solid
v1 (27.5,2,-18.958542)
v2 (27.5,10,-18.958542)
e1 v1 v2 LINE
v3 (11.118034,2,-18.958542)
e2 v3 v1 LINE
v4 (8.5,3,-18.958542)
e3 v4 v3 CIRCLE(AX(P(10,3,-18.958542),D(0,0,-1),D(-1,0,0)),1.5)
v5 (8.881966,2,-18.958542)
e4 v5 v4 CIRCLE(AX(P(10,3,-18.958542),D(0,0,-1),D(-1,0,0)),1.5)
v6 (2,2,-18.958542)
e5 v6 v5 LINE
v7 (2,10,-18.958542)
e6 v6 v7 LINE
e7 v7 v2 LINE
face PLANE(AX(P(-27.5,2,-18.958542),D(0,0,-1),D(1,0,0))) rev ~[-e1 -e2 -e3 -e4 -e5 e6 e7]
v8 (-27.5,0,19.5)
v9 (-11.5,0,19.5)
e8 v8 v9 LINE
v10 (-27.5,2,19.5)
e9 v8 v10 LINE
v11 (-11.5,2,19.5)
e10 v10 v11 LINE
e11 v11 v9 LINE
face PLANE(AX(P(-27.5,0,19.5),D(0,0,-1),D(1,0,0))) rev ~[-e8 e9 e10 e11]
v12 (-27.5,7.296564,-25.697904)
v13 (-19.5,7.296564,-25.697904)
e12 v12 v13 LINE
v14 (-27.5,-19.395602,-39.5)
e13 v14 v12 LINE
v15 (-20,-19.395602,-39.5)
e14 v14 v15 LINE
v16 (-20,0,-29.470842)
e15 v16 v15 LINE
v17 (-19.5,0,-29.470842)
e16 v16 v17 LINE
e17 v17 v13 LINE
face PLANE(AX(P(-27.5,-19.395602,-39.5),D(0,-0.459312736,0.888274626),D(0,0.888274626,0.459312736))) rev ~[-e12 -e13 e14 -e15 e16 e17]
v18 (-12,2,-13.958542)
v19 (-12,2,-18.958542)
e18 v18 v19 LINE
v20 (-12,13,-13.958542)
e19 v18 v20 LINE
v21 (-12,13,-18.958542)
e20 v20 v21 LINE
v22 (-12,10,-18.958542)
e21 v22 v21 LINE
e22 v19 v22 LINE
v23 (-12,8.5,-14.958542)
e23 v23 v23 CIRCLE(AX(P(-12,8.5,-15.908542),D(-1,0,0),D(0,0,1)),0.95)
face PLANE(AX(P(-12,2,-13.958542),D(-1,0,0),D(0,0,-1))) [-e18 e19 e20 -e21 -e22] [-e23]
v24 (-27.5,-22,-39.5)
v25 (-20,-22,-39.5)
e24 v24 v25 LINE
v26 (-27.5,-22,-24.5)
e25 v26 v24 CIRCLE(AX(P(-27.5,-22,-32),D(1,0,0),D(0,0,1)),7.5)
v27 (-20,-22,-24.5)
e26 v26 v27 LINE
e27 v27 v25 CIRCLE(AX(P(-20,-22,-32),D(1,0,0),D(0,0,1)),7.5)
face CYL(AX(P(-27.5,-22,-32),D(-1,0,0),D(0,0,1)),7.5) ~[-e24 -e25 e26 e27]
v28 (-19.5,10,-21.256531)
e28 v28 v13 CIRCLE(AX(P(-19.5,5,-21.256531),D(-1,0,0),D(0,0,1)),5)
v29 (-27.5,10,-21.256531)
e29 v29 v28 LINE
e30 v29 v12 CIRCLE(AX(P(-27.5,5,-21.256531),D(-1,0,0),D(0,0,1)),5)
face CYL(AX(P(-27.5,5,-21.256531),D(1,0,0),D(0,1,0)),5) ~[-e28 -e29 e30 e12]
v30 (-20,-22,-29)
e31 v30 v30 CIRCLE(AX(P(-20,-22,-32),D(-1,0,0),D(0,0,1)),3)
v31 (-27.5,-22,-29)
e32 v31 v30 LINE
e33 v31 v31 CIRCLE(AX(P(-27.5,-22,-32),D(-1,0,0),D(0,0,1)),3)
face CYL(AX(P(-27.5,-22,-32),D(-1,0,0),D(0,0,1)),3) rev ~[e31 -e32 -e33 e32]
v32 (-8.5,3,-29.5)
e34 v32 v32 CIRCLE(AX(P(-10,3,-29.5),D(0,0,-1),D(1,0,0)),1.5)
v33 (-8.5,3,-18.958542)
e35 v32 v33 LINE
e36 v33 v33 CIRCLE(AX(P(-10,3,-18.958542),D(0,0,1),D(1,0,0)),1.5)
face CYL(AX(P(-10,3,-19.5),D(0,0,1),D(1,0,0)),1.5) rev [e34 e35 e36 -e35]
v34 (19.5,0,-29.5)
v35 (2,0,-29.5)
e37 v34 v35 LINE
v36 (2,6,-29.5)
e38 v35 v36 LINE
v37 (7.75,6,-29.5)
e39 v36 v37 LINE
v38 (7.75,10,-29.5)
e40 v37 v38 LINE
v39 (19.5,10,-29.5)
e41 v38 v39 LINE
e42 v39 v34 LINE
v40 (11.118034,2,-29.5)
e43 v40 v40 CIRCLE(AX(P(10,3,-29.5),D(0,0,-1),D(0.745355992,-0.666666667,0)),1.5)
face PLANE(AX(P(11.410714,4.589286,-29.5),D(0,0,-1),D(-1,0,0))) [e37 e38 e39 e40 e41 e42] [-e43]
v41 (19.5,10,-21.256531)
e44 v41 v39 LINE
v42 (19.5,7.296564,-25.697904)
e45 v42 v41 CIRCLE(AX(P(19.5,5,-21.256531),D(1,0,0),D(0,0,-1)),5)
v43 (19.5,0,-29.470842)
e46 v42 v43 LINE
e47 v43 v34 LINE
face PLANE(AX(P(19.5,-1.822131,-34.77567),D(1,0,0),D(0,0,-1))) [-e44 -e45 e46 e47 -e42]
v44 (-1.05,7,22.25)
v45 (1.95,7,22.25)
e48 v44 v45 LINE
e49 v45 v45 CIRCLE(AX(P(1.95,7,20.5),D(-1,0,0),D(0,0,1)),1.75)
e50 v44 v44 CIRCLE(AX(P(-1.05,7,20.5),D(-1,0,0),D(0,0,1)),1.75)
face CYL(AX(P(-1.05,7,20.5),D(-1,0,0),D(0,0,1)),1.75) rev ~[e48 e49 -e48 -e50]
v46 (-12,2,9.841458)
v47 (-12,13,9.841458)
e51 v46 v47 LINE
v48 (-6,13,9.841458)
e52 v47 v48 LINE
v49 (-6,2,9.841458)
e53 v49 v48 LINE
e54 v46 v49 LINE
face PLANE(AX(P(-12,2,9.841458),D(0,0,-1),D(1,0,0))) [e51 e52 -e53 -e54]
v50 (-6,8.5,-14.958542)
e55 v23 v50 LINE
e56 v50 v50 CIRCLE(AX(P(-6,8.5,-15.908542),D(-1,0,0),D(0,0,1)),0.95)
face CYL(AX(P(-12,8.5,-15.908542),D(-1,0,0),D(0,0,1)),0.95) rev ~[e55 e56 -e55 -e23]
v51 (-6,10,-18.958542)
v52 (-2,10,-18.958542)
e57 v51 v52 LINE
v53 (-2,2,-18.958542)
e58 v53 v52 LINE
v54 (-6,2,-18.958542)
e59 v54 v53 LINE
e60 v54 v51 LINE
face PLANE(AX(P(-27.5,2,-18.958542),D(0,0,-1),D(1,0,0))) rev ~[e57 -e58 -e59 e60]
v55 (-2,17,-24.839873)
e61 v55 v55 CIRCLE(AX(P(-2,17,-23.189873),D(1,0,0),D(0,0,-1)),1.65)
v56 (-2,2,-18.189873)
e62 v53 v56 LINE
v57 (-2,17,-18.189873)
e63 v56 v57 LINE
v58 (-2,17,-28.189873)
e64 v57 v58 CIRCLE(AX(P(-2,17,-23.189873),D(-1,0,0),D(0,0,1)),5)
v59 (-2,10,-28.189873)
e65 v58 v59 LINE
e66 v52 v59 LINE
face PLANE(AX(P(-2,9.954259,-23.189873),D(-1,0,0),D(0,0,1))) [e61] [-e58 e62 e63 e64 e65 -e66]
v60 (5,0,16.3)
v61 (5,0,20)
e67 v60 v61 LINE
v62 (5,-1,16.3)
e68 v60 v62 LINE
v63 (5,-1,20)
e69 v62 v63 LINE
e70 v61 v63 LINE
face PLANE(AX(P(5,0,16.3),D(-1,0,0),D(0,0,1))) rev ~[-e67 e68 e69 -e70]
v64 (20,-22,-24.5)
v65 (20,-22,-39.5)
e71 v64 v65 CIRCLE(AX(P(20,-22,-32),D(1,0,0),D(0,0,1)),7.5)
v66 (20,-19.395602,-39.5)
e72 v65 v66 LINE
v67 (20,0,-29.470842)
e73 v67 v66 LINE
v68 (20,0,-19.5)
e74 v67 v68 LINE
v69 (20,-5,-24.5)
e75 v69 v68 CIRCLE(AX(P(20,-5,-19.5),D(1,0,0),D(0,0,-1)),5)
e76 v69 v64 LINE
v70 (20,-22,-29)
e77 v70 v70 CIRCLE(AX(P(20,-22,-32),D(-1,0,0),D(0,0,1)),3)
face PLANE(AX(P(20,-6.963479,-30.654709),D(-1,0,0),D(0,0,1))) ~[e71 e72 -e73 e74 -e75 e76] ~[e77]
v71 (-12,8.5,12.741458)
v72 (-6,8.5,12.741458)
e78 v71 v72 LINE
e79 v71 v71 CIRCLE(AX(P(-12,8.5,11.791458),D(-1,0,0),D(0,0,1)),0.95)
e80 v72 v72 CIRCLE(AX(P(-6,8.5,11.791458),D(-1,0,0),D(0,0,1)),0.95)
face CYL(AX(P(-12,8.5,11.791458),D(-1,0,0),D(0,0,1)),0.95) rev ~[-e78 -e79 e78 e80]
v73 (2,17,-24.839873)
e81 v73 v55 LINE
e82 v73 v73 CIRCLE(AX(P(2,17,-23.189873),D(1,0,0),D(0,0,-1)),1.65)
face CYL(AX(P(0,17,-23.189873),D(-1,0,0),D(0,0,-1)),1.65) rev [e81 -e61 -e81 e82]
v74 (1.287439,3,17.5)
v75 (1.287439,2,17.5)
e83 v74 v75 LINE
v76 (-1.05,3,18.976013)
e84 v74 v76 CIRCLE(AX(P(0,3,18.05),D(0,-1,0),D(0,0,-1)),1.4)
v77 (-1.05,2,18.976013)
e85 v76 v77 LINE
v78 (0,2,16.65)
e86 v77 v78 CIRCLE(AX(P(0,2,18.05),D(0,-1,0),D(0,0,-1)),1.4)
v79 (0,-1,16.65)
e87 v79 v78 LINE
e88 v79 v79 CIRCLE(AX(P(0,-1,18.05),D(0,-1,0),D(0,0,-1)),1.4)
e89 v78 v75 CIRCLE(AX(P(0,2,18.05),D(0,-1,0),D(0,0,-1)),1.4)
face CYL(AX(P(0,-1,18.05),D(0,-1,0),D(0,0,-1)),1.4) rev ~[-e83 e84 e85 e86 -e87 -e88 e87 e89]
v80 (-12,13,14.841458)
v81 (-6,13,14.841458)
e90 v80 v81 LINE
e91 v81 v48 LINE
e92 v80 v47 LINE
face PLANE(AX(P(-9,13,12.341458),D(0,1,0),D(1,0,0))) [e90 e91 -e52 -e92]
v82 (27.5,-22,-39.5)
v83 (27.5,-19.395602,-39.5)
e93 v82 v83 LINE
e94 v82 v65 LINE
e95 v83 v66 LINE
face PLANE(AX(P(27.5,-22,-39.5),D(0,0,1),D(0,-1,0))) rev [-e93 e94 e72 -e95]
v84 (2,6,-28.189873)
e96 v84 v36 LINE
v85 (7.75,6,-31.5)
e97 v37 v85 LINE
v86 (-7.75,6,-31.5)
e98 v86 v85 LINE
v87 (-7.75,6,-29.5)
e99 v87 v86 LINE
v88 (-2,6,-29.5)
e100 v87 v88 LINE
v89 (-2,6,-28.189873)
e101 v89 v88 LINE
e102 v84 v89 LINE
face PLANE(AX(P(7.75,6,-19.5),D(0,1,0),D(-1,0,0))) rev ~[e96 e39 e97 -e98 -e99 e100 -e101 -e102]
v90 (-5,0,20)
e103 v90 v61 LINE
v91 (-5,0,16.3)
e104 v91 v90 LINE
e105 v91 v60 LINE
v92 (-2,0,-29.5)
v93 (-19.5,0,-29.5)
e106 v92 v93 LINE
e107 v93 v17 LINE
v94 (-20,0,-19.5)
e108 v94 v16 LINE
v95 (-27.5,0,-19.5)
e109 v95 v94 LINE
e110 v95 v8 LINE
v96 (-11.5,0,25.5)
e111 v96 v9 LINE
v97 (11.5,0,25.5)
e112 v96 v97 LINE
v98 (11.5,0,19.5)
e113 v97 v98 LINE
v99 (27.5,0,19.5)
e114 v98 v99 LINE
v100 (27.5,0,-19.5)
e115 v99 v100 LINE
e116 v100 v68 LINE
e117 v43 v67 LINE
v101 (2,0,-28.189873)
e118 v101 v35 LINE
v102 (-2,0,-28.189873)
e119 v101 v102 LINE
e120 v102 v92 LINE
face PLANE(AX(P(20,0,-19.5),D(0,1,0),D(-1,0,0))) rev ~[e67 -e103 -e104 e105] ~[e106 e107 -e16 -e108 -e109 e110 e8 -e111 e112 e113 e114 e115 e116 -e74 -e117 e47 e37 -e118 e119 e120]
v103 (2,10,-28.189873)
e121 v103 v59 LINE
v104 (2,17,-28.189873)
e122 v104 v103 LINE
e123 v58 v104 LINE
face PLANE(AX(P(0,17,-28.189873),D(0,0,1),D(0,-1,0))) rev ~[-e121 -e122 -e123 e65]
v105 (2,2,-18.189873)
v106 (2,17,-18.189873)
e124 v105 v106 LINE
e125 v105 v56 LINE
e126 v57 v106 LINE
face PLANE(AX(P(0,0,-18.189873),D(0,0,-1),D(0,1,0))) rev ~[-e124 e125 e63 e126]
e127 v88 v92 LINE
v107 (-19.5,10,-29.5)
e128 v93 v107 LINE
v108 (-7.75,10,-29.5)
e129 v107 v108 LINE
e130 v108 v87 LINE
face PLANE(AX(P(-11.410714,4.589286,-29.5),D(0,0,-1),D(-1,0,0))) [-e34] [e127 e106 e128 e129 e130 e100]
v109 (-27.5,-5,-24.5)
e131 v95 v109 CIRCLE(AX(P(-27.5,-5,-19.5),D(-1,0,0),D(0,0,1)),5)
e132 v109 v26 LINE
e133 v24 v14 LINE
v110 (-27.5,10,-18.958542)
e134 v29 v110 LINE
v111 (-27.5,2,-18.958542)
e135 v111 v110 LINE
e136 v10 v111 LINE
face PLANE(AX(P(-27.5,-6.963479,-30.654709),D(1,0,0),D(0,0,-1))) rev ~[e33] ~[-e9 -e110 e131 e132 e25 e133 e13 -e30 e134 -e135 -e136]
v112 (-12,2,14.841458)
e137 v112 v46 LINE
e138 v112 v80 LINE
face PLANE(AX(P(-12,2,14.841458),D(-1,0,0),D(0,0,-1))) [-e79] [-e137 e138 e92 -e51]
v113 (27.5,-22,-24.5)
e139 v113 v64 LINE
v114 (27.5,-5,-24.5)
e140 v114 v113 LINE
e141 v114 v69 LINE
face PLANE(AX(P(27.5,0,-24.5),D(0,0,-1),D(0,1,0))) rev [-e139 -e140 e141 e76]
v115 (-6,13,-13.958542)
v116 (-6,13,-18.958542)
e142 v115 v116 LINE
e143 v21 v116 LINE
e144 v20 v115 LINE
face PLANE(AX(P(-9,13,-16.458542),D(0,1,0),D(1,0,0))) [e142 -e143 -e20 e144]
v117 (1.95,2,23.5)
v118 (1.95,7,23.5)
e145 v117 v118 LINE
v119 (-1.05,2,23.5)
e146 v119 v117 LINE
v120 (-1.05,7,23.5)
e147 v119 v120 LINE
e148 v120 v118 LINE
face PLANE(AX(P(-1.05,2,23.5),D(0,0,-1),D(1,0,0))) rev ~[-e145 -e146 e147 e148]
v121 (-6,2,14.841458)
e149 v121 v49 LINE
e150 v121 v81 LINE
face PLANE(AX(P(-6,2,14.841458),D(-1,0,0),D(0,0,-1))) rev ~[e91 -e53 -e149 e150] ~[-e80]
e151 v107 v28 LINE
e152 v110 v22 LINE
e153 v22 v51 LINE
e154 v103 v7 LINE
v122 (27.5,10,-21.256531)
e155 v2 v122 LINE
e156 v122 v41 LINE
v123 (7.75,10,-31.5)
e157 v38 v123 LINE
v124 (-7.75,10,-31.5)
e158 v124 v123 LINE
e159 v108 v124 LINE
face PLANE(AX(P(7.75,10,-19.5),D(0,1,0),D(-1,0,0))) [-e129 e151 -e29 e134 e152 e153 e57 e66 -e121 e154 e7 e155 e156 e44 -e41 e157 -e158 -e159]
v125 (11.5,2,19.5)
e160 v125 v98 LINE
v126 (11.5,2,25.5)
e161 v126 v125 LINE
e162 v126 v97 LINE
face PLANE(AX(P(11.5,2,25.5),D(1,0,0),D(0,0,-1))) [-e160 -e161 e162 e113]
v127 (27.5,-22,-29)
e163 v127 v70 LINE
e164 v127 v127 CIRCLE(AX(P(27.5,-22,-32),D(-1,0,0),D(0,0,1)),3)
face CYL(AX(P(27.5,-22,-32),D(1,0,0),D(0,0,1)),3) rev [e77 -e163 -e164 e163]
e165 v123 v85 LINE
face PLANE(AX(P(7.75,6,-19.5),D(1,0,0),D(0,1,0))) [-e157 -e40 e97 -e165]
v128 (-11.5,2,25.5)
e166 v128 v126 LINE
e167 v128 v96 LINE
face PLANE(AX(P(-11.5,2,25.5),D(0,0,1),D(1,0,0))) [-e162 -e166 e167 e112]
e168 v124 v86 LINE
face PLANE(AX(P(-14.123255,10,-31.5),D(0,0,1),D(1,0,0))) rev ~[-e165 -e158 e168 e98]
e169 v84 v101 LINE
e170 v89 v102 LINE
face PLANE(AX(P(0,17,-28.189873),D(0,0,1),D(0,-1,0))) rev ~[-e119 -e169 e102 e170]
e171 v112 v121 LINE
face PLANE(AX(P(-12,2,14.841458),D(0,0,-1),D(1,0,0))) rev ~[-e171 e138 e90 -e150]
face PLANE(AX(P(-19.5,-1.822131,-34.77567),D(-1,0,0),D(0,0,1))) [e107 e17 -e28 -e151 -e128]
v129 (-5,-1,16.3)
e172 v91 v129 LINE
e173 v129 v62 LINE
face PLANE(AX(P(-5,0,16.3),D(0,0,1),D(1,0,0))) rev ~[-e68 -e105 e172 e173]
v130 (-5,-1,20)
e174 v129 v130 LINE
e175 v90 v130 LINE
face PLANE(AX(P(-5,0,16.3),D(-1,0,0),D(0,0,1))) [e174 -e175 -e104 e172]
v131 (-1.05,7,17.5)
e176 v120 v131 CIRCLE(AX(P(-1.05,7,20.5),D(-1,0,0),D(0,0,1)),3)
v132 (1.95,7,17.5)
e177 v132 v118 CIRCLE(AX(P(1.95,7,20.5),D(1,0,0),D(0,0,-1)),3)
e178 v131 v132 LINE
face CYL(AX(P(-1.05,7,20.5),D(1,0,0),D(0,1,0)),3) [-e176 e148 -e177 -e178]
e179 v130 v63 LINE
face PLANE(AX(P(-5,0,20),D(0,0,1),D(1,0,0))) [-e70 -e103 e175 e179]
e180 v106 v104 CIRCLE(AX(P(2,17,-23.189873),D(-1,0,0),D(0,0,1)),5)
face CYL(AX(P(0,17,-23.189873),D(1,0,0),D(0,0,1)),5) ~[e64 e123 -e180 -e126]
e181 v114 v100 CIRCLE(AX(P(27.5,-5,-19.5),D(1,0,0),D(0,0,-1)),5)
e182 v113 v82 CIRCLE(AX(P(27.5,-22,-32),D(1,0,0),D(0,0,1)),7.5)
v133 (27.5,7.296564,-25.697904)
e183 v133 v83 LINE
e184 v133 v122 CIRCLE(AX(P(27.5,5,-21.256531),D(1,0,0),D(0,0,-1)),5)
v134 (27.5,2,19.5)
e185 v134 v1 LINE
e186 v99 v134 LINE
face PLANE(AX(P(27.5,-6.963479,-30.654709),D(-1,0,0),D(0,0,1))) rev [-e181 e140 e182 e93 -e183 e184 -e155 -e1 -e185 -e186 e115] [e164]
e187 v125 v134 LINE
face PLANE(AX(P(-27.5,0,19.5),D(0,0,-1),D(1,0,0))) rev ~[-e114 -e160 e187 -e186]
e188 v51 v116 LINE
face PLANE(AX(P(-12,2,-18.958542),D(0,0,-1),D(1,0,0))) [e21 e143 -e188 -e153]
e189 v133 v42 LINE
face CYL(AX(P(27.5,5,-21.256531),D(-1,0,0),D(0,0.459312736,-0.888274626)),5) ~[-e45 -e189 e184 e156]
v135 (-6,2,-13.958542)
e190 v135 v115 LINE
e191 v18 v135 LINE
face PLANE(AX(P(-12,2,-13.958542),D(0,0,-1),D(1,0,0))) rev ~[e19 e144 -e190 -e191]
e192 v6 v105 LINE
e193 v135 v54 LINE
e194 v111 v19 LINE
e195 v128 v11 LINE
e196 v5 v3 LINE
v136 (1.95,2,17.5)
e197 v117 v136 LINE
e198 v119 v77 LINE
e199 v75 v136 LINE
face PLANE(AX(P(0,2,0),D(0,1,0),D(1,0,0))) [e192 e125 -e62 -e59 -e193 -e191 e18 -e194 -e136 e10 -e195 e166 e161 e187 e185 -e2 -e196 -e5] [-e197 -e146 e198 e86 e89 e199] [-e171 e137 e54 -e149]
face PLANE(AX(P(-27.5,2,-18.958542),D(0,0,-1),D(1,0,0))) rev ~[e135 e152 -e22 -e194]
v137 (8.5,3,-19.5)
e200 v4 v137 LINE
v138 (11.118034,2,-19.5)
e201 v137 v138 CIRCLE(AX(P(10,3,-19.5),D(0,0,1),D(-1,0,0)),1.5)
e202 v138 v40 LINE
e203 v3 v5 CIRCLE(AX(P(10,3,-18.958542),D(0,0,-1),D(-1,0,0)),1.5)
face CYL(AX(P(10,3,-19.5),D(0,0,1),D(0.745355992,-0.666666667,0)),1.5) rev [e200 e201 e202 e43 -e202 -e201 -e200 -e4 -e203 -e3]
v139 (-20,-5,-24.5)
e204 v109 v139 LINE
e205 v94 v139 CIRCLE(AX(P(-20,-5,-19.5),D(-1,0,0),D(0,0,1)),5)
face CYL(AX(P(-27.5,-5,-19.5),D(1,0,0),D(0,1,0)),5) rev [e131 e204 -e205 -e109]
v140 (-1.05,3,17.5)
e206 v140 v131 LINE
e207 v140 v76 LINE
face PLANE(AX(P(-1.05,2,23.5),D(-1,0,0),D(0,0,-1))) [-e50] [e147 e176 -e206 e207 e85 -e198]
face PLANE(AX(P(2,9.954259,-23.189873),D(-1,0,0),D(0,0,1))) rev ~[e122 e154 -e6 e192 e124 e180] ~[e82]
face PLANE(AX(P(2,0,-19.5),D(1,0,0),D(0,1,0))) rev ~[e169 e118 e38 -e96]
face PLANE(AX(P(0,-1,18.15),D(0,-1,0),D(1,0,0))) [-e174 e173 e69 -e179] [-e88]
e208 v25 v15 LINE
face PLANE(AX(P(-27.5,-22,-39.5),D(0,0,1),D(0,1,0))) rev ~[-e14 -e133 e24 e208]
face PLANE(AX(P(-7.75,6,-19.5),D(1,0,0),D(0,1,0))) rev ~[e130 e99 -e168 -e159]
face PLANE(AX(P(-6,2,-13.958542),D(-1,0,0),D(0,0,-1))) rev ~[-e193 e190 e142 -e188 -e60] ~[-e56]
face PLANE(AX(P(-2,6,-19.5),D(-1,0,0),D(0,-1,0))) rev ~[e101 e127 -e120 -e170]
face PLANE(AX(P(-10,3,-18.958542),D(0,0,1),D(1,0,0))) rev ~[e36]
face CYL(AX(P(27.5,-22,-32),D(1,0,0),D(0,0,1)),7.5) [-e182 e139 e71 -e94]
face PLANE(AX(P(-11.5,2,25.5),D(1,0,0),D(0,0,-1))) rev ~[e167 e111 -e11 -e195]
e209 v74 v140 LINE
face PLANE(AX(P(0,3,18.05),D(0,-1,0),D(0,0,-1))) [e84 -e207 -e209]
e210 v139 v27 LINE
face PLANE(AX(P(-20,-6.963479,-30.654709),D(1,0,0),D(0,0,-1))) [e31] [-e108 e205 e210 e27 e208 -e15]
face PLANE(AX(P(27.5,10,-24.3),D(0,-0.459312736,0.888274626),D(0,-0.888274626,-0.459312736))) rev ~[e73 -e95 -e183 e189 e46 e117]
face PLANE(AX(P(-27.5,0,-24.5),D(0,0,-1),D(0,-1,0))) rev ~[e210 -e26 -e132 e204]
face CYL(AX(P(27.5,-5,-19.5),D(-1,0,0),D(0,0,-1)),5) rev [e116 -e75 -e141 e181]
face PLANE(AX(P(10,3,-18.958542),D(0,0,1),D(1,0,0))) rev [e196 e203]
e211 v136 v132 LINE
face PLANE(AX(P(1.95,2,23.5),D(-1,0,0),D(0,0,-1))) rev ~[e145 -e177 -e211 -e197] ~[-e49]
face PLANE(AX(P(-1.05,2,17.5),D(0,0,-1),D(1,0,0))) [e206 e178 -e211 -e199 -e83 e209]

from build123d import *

# Parameters (mm, degrees)
SKETCH_1_W          = 55
SKETCH_1_H          = 39
EXTRUDE_1_DEPTH     = 2
SKETCH_2_W          = 23
SKETCH_2_H          = 6
EXTRUDE_2_DEPTH     = 2
SKETCH_3_W          = 6
SKETCH_3_H          = 5
EXTRUDE_3_DEPTH     = 11
SKETCH_5_R          = 0.95
CUT_EXTRUDE_1_DEPTH = 11
SKETCH_6_W          = 55
SKETCH_6_H          = 0.541458129
EXTRUDE_4_DEPTH     = 8
SKETCH_8_R          = 1.65
EXTRUDE_6_DEPTH     = 2
SKETCH_10_W         = 3
SKETCH_10_H         = 6
EXTRUDE_7_DEPTH     = 8
SKETCH_11_R         = 1.5
CUT_EXTRUDE_3_DEPTH = 13
SKETCH_12_R         = 3
EXTRUDE_8_DEPTH     = 7.5
SKETCH_13_W         = 10
SKETCH_13_H         = 3.7
EXTRUDE_9_DEPTH     = 1
FILLET_3_RADIUS     = 3
FILLET_3_LENGTH     = 3
SKETCH_15_R         = 1.75
CUT_EXTRUDE_5_DEPTH = 23
SKETCH_16_W         = 15.5
SKETCH_16_H         = 4
EXTRUDE_10_DEPTH    = 20
SKETCH_17_R         = 1.5
EXTRUDE_11_DEPTH    = 10
FILLET_4_R          = 10
SKETCH_18_W         = 26.564734734
SKETCH_18_H         = 10.454508508
CUT_EXTRUDE_6_DEPTH = 10
CUT_EXTRUDE_7_DEPTH = 8
CUT_EXTRUDE_8_DEPTH = 8
FILLET_6_R          = 5
SKETCH_21_R         = 1.4
CUT_EXTRUDE_9_DEPTH = 4


with BuildPart() as part:
    # 草图1 → 凸台-拉伸1 (new body)
    with BuildSketch(Plane(origin=(0, 0, 0), x_dir=(1, 0, 0), z_dir=(0, 1, 0))):
        Rectangle(SKETCH_1_W, SKETCH_1_H)
    extrude(amount=EXTRUDE_1_DEPTH)

    # 草图2 → 凸台-拉伸2 (add)
    with BuildSketch(Plane(origin=(0, 2, 0), x_dir=(1, 0, 0), z_dir=(0, 1, 0))):
        with Locations((0, -22.5)):
            Rectangle(SKETCH_2_W, SKETCH_2_H)
    extrude(amount=-EXTRUDE_2_DEPTH)

    # 草图3 → 凸台-拉伸3 (add)
    with BuildSketch(Plane(origin=(0, 2, 0), x_dir=(1, 0, 0), z_dir=(0, 1, 0))):
        with Locations((-9, -12.341458129)):
            Rectangle(SKETCH_3_W, SKETCH_3_H)
        with Locations((-9, 16.458541871)):
            Rectangle(SKETCH_3_W, SKETCH_3_H)
    extrude(amount=EXTRUDE_3_DEPTH)

    # 草图5 → 切除-拉伸1 (cut)
    with BuildSketch(Plane.ZY.offset(12)):
        with Locations((-15.908541871, 8.5)):
            Circle(SKETCH_5_R)
        with Locations((11.791458129, 8.5)):
            Circle(SKETCH_5_R)
    extrude(amount=-CUT_EXTRUDE_1_DEPTH, mode=Mode.SUBTRACT)

    # 草图6 → 凸台-拉伸4 (add)
    with BuildSketch(Plane(origin=(0, 2, 0), x_dir=(1, 0, 0), z_dir=(0, 1, 0))):
        with Locations((0, 19.229270936)):
            Rectangle(SKETCH_6_W, SKETCH_6_H)
    extrude(amount=EXTRUDE_4_DEPTH)

    # 草图8 → 凸台-拉伸6 (add, symmetric)
    with BuildSketch(Plane(origin=(0, 0, 0), x_dir=(0, 0, -1), z_dir=(1, 0, 0))):
        with BuildLine():
            Line((28.189872998, 17), (28.189872998, 0))
            Line((28.189872998, 0), (18.189872998, 0))
            Line((18.189872998, 0), (18.189872998, 17))
            ThreePointArc((18.189872998, 17), (23.189872998, 22), (28.189872998, 17))
        make_face()
        with Locations((23.189872998, 17)):
            Circle(SKETCH_8_R, mode=Mode.SUBTRACT)
    extrude(amount=EXTRUDE_6_DEPTH, both=True)

    # 草图10 → 凸台-拉伸7 (add)
    with BuildSketch(Plane(origin=(0, 2, 0), x_dir=(1, 0, 0), z_dir=(0, 1, 0))):
        with Locations((0.45, -20.5)):
            Rectangle(SKETCH_10_W, SKETCH_10_H)
    extrude(amount=EXTRUDE_7_DEPTH)

    # 草图11 → 切除-拉伸3 (cut)
    with BuildSketch(Plane.XY.offset(-18.958541871)):
        with Locations((-10, 3)):
            Circle(SKETCH_11_R)
    cut_extrude_3 = extrude(amount=-CUT_EXTRUDE_3_DEPTH, mode=Mode.SUBTRACT)

    # 草图12 → 凸台-拉伸8 (add)
    with BuildSketch(Plane.ZY.offset(27.5)):
        with BuildLine():
            Line((-39.5, -22), (-39.5, 10))
            Line((-39.5, 10), (-19.5, 10))
            Line((-19.5, 10), (-19.5, 0))
            Line((-19.5, 0), (-24.5, 0))
            Line((-24.5, 0), (-24.5, -22))
            ThreePointArc((-24.5, -22), (-32, -29.5), (-39.5, -22))
        make_face()
        with Locations((-32, -22)):
            Circle(SKETCH_12_R, mode=Mode.SUBTRACT)
    extrude_8 = extrude(amount=-EXTRUDE_8_DEPTH)

    # 草图13 → 凸台-拉伸9 (add)
    with BuildSketch(Plane.XZ):
        with Locations((0, 18.15)):
            Rectangle(SKETCH_13_W, SKETCH_13_H)
    extrude(amount=EXTRUDE_9_DEPTH)

    # 镜向1: 切除-拉伸3, 凸台-拉伸8 across plane
    add(cut_extrude_3.mirror(Plane(origin=(0, 0, 0), x_dir=(0, 0, 1), z_dir=(1, 0, 0))), mode=Mode.SUBTRACT)
    add(extrude_8.mirror(Plane(origin=(0, 0, 0), x_dir=(0, 0, 1), z_dir=(1, 0, 0))))

    # 圆角3: full round fillet: the end face becomes a half cylinder, R = half its width
    fillet_3_face = Plane((0.45, 10, 20.5), x_dir=(1, 0, 0), z_dir=(0, 1, 0))  # on the end face: x along it, z out of the body
    fillet_3_slab = fillet_3_face.offset(-FILLET_3_RADIUS / 2) * Box(FILLET_3_LENGTH, 2 * FILLET_3_RADIUS, FILLET_3_RADIUS, mode=Mode.PRIVATE)  # the body's end, R deep
    fillet_3_round = Plane((0.45, 7, 20.5), x_dir=(0, 1, 0), z_dir=(1, 0, 0)) * Cylinder(FILLET_3_RADIUS, FILLET_3_LENGTH, mode=Mode.PRIVATE)  # its axis R under the face
    add(fillet_3_slab - fillet_3_round, mode=Mode.SUBTRACT)

    # 草图15 → 切除-拉伸5 (cut)
    with BuildSketch(Plane.ZY.offset(1.05)):
        with Locations((20.5, 7)):
            Circle(SKETCH_15_R)
    extrude(amount=-CUT_EXTRUDE_5_DEPTH, mode=Mode.SUBTRACT)

    # 草图16 → 凸台-拉伸10 (add)
    with BuildSketch(Plane(origin=(0, 0, -19.5), x_dir=(-1, 0, 0), z_dir=(0, 0, -1))):
        with Locations((0, 8)):
            Rectangle(SKETCH_16_W, SKETCH_16_H)
    extrude(amount=EXTRUDE_10_DEPTH)

    # 草图17 → 凸台-拉伸11 (add)
    # profile 1 of 2: a face of its own
    with BuildSketch(Plane(origin=(0, 0, -19.5), x_dir=(-1, 0, 0), z_dir=(0, 0, -1))):
        Polygon((-20, 0), (-2, 0), (-2, 6), (-7.75, 6), (-7.75, 10), (-20, 10), align=None)
        with Locations(Location((-10, 3, 0), (0, 0, 221.810314896))):
            Circle(SKETCH_17_R, mode=Mode.SUBTRACT)
    # profile 2 of 2: a face of its own
    with BuildSketch(Plane(origin=(0, 0, -19.5), x_dir=(-1, 0, 0), z_dir=(0, 0, -1))):
        Polygon((7.75, 6), (2, 6), (2, 0), (20, 0), (20, 10), (7.75, 10), align=None)
        with Locations(Location((10, 3, 0), (0, 0, 180))):
            Circle(SKETCH_17_R, mode=Mode.SUBTRACT)
    extrude(amount=EXTRUDE_11_DEPTH)

    # 圆角4
    fillet_4_edges = [part.edges().sort_by_distance(p)[0] for p in [
        (23.75, 10, -39.5),
        (-23.75, 10, -39.5),
    ]]
    fillet(fillet_4_edges, radius=FILLET_4_R)

    # 草图18 → 切除-拉伸6 (cut)
    with BuildSketch(Plane(origin=(0, 10, 0), x_dir=(1, 0, 0), z_dir=(0, 1, 0))):
        with Locations((-0.840887807, 36.727254254)):
            Rectangle(SKETCH_18_W, SKETCH_18_H)
    extrude(amount=-CUT_EXTRUDE_6_DEPTH, mode=Mode.SUBTRACT)

    # 草图19 → 切除-拉伸7 (cut)
    with BuildSketch(Plane(origin=(27.5, 0, 0), x_dir=(0, 0, -1), z_dir=(1, 0, 0))):
        Polygon((24.3, 10), (39.5, -19.395601839), (39.5, 10), align=None)
    extrude(amount=-CUT_EXTRUDE_7_DEPTH, mode=Mode.SUBTRACT)

    # 草图20 → 切除-拉伸8 (cut)
    with BuildSketch(Plane.ZY.offset(27.5)):
        Polygon((-24.3, 10), (-39.5, 10), (-39.5, -19.395601839), align=None)
    extrude(amount=-CUT_EXTRUDE_8_DEPTH, mode=Mode.SUBTRACT)

    # 圆角6
    fillet_6_edges = [part.edges().sort_by_distance(p)[0] for p in [
        (-23.75, 0, -24.5),
        (23.75, 0, -24.5),
        (23.5, 10, -24.3),
        (-23.5, 10, -24.3),
    ]]
    fillet(fillet_6_edges, radius=FILLET_6_R)

    # 草图21 → 切除-拉伸9 (cut)
    with BuildSketch(Plane.XZ.offset(1)):
        with Locations(Location((0, 18.05, 0), (0, 0, 270))):
            Circle(SKETCH_21_R)
    extrude(amount=-CUT_EXTRUDE_9_DEPTH, mode=Mode.SUBTRACT)


solid = part.part
